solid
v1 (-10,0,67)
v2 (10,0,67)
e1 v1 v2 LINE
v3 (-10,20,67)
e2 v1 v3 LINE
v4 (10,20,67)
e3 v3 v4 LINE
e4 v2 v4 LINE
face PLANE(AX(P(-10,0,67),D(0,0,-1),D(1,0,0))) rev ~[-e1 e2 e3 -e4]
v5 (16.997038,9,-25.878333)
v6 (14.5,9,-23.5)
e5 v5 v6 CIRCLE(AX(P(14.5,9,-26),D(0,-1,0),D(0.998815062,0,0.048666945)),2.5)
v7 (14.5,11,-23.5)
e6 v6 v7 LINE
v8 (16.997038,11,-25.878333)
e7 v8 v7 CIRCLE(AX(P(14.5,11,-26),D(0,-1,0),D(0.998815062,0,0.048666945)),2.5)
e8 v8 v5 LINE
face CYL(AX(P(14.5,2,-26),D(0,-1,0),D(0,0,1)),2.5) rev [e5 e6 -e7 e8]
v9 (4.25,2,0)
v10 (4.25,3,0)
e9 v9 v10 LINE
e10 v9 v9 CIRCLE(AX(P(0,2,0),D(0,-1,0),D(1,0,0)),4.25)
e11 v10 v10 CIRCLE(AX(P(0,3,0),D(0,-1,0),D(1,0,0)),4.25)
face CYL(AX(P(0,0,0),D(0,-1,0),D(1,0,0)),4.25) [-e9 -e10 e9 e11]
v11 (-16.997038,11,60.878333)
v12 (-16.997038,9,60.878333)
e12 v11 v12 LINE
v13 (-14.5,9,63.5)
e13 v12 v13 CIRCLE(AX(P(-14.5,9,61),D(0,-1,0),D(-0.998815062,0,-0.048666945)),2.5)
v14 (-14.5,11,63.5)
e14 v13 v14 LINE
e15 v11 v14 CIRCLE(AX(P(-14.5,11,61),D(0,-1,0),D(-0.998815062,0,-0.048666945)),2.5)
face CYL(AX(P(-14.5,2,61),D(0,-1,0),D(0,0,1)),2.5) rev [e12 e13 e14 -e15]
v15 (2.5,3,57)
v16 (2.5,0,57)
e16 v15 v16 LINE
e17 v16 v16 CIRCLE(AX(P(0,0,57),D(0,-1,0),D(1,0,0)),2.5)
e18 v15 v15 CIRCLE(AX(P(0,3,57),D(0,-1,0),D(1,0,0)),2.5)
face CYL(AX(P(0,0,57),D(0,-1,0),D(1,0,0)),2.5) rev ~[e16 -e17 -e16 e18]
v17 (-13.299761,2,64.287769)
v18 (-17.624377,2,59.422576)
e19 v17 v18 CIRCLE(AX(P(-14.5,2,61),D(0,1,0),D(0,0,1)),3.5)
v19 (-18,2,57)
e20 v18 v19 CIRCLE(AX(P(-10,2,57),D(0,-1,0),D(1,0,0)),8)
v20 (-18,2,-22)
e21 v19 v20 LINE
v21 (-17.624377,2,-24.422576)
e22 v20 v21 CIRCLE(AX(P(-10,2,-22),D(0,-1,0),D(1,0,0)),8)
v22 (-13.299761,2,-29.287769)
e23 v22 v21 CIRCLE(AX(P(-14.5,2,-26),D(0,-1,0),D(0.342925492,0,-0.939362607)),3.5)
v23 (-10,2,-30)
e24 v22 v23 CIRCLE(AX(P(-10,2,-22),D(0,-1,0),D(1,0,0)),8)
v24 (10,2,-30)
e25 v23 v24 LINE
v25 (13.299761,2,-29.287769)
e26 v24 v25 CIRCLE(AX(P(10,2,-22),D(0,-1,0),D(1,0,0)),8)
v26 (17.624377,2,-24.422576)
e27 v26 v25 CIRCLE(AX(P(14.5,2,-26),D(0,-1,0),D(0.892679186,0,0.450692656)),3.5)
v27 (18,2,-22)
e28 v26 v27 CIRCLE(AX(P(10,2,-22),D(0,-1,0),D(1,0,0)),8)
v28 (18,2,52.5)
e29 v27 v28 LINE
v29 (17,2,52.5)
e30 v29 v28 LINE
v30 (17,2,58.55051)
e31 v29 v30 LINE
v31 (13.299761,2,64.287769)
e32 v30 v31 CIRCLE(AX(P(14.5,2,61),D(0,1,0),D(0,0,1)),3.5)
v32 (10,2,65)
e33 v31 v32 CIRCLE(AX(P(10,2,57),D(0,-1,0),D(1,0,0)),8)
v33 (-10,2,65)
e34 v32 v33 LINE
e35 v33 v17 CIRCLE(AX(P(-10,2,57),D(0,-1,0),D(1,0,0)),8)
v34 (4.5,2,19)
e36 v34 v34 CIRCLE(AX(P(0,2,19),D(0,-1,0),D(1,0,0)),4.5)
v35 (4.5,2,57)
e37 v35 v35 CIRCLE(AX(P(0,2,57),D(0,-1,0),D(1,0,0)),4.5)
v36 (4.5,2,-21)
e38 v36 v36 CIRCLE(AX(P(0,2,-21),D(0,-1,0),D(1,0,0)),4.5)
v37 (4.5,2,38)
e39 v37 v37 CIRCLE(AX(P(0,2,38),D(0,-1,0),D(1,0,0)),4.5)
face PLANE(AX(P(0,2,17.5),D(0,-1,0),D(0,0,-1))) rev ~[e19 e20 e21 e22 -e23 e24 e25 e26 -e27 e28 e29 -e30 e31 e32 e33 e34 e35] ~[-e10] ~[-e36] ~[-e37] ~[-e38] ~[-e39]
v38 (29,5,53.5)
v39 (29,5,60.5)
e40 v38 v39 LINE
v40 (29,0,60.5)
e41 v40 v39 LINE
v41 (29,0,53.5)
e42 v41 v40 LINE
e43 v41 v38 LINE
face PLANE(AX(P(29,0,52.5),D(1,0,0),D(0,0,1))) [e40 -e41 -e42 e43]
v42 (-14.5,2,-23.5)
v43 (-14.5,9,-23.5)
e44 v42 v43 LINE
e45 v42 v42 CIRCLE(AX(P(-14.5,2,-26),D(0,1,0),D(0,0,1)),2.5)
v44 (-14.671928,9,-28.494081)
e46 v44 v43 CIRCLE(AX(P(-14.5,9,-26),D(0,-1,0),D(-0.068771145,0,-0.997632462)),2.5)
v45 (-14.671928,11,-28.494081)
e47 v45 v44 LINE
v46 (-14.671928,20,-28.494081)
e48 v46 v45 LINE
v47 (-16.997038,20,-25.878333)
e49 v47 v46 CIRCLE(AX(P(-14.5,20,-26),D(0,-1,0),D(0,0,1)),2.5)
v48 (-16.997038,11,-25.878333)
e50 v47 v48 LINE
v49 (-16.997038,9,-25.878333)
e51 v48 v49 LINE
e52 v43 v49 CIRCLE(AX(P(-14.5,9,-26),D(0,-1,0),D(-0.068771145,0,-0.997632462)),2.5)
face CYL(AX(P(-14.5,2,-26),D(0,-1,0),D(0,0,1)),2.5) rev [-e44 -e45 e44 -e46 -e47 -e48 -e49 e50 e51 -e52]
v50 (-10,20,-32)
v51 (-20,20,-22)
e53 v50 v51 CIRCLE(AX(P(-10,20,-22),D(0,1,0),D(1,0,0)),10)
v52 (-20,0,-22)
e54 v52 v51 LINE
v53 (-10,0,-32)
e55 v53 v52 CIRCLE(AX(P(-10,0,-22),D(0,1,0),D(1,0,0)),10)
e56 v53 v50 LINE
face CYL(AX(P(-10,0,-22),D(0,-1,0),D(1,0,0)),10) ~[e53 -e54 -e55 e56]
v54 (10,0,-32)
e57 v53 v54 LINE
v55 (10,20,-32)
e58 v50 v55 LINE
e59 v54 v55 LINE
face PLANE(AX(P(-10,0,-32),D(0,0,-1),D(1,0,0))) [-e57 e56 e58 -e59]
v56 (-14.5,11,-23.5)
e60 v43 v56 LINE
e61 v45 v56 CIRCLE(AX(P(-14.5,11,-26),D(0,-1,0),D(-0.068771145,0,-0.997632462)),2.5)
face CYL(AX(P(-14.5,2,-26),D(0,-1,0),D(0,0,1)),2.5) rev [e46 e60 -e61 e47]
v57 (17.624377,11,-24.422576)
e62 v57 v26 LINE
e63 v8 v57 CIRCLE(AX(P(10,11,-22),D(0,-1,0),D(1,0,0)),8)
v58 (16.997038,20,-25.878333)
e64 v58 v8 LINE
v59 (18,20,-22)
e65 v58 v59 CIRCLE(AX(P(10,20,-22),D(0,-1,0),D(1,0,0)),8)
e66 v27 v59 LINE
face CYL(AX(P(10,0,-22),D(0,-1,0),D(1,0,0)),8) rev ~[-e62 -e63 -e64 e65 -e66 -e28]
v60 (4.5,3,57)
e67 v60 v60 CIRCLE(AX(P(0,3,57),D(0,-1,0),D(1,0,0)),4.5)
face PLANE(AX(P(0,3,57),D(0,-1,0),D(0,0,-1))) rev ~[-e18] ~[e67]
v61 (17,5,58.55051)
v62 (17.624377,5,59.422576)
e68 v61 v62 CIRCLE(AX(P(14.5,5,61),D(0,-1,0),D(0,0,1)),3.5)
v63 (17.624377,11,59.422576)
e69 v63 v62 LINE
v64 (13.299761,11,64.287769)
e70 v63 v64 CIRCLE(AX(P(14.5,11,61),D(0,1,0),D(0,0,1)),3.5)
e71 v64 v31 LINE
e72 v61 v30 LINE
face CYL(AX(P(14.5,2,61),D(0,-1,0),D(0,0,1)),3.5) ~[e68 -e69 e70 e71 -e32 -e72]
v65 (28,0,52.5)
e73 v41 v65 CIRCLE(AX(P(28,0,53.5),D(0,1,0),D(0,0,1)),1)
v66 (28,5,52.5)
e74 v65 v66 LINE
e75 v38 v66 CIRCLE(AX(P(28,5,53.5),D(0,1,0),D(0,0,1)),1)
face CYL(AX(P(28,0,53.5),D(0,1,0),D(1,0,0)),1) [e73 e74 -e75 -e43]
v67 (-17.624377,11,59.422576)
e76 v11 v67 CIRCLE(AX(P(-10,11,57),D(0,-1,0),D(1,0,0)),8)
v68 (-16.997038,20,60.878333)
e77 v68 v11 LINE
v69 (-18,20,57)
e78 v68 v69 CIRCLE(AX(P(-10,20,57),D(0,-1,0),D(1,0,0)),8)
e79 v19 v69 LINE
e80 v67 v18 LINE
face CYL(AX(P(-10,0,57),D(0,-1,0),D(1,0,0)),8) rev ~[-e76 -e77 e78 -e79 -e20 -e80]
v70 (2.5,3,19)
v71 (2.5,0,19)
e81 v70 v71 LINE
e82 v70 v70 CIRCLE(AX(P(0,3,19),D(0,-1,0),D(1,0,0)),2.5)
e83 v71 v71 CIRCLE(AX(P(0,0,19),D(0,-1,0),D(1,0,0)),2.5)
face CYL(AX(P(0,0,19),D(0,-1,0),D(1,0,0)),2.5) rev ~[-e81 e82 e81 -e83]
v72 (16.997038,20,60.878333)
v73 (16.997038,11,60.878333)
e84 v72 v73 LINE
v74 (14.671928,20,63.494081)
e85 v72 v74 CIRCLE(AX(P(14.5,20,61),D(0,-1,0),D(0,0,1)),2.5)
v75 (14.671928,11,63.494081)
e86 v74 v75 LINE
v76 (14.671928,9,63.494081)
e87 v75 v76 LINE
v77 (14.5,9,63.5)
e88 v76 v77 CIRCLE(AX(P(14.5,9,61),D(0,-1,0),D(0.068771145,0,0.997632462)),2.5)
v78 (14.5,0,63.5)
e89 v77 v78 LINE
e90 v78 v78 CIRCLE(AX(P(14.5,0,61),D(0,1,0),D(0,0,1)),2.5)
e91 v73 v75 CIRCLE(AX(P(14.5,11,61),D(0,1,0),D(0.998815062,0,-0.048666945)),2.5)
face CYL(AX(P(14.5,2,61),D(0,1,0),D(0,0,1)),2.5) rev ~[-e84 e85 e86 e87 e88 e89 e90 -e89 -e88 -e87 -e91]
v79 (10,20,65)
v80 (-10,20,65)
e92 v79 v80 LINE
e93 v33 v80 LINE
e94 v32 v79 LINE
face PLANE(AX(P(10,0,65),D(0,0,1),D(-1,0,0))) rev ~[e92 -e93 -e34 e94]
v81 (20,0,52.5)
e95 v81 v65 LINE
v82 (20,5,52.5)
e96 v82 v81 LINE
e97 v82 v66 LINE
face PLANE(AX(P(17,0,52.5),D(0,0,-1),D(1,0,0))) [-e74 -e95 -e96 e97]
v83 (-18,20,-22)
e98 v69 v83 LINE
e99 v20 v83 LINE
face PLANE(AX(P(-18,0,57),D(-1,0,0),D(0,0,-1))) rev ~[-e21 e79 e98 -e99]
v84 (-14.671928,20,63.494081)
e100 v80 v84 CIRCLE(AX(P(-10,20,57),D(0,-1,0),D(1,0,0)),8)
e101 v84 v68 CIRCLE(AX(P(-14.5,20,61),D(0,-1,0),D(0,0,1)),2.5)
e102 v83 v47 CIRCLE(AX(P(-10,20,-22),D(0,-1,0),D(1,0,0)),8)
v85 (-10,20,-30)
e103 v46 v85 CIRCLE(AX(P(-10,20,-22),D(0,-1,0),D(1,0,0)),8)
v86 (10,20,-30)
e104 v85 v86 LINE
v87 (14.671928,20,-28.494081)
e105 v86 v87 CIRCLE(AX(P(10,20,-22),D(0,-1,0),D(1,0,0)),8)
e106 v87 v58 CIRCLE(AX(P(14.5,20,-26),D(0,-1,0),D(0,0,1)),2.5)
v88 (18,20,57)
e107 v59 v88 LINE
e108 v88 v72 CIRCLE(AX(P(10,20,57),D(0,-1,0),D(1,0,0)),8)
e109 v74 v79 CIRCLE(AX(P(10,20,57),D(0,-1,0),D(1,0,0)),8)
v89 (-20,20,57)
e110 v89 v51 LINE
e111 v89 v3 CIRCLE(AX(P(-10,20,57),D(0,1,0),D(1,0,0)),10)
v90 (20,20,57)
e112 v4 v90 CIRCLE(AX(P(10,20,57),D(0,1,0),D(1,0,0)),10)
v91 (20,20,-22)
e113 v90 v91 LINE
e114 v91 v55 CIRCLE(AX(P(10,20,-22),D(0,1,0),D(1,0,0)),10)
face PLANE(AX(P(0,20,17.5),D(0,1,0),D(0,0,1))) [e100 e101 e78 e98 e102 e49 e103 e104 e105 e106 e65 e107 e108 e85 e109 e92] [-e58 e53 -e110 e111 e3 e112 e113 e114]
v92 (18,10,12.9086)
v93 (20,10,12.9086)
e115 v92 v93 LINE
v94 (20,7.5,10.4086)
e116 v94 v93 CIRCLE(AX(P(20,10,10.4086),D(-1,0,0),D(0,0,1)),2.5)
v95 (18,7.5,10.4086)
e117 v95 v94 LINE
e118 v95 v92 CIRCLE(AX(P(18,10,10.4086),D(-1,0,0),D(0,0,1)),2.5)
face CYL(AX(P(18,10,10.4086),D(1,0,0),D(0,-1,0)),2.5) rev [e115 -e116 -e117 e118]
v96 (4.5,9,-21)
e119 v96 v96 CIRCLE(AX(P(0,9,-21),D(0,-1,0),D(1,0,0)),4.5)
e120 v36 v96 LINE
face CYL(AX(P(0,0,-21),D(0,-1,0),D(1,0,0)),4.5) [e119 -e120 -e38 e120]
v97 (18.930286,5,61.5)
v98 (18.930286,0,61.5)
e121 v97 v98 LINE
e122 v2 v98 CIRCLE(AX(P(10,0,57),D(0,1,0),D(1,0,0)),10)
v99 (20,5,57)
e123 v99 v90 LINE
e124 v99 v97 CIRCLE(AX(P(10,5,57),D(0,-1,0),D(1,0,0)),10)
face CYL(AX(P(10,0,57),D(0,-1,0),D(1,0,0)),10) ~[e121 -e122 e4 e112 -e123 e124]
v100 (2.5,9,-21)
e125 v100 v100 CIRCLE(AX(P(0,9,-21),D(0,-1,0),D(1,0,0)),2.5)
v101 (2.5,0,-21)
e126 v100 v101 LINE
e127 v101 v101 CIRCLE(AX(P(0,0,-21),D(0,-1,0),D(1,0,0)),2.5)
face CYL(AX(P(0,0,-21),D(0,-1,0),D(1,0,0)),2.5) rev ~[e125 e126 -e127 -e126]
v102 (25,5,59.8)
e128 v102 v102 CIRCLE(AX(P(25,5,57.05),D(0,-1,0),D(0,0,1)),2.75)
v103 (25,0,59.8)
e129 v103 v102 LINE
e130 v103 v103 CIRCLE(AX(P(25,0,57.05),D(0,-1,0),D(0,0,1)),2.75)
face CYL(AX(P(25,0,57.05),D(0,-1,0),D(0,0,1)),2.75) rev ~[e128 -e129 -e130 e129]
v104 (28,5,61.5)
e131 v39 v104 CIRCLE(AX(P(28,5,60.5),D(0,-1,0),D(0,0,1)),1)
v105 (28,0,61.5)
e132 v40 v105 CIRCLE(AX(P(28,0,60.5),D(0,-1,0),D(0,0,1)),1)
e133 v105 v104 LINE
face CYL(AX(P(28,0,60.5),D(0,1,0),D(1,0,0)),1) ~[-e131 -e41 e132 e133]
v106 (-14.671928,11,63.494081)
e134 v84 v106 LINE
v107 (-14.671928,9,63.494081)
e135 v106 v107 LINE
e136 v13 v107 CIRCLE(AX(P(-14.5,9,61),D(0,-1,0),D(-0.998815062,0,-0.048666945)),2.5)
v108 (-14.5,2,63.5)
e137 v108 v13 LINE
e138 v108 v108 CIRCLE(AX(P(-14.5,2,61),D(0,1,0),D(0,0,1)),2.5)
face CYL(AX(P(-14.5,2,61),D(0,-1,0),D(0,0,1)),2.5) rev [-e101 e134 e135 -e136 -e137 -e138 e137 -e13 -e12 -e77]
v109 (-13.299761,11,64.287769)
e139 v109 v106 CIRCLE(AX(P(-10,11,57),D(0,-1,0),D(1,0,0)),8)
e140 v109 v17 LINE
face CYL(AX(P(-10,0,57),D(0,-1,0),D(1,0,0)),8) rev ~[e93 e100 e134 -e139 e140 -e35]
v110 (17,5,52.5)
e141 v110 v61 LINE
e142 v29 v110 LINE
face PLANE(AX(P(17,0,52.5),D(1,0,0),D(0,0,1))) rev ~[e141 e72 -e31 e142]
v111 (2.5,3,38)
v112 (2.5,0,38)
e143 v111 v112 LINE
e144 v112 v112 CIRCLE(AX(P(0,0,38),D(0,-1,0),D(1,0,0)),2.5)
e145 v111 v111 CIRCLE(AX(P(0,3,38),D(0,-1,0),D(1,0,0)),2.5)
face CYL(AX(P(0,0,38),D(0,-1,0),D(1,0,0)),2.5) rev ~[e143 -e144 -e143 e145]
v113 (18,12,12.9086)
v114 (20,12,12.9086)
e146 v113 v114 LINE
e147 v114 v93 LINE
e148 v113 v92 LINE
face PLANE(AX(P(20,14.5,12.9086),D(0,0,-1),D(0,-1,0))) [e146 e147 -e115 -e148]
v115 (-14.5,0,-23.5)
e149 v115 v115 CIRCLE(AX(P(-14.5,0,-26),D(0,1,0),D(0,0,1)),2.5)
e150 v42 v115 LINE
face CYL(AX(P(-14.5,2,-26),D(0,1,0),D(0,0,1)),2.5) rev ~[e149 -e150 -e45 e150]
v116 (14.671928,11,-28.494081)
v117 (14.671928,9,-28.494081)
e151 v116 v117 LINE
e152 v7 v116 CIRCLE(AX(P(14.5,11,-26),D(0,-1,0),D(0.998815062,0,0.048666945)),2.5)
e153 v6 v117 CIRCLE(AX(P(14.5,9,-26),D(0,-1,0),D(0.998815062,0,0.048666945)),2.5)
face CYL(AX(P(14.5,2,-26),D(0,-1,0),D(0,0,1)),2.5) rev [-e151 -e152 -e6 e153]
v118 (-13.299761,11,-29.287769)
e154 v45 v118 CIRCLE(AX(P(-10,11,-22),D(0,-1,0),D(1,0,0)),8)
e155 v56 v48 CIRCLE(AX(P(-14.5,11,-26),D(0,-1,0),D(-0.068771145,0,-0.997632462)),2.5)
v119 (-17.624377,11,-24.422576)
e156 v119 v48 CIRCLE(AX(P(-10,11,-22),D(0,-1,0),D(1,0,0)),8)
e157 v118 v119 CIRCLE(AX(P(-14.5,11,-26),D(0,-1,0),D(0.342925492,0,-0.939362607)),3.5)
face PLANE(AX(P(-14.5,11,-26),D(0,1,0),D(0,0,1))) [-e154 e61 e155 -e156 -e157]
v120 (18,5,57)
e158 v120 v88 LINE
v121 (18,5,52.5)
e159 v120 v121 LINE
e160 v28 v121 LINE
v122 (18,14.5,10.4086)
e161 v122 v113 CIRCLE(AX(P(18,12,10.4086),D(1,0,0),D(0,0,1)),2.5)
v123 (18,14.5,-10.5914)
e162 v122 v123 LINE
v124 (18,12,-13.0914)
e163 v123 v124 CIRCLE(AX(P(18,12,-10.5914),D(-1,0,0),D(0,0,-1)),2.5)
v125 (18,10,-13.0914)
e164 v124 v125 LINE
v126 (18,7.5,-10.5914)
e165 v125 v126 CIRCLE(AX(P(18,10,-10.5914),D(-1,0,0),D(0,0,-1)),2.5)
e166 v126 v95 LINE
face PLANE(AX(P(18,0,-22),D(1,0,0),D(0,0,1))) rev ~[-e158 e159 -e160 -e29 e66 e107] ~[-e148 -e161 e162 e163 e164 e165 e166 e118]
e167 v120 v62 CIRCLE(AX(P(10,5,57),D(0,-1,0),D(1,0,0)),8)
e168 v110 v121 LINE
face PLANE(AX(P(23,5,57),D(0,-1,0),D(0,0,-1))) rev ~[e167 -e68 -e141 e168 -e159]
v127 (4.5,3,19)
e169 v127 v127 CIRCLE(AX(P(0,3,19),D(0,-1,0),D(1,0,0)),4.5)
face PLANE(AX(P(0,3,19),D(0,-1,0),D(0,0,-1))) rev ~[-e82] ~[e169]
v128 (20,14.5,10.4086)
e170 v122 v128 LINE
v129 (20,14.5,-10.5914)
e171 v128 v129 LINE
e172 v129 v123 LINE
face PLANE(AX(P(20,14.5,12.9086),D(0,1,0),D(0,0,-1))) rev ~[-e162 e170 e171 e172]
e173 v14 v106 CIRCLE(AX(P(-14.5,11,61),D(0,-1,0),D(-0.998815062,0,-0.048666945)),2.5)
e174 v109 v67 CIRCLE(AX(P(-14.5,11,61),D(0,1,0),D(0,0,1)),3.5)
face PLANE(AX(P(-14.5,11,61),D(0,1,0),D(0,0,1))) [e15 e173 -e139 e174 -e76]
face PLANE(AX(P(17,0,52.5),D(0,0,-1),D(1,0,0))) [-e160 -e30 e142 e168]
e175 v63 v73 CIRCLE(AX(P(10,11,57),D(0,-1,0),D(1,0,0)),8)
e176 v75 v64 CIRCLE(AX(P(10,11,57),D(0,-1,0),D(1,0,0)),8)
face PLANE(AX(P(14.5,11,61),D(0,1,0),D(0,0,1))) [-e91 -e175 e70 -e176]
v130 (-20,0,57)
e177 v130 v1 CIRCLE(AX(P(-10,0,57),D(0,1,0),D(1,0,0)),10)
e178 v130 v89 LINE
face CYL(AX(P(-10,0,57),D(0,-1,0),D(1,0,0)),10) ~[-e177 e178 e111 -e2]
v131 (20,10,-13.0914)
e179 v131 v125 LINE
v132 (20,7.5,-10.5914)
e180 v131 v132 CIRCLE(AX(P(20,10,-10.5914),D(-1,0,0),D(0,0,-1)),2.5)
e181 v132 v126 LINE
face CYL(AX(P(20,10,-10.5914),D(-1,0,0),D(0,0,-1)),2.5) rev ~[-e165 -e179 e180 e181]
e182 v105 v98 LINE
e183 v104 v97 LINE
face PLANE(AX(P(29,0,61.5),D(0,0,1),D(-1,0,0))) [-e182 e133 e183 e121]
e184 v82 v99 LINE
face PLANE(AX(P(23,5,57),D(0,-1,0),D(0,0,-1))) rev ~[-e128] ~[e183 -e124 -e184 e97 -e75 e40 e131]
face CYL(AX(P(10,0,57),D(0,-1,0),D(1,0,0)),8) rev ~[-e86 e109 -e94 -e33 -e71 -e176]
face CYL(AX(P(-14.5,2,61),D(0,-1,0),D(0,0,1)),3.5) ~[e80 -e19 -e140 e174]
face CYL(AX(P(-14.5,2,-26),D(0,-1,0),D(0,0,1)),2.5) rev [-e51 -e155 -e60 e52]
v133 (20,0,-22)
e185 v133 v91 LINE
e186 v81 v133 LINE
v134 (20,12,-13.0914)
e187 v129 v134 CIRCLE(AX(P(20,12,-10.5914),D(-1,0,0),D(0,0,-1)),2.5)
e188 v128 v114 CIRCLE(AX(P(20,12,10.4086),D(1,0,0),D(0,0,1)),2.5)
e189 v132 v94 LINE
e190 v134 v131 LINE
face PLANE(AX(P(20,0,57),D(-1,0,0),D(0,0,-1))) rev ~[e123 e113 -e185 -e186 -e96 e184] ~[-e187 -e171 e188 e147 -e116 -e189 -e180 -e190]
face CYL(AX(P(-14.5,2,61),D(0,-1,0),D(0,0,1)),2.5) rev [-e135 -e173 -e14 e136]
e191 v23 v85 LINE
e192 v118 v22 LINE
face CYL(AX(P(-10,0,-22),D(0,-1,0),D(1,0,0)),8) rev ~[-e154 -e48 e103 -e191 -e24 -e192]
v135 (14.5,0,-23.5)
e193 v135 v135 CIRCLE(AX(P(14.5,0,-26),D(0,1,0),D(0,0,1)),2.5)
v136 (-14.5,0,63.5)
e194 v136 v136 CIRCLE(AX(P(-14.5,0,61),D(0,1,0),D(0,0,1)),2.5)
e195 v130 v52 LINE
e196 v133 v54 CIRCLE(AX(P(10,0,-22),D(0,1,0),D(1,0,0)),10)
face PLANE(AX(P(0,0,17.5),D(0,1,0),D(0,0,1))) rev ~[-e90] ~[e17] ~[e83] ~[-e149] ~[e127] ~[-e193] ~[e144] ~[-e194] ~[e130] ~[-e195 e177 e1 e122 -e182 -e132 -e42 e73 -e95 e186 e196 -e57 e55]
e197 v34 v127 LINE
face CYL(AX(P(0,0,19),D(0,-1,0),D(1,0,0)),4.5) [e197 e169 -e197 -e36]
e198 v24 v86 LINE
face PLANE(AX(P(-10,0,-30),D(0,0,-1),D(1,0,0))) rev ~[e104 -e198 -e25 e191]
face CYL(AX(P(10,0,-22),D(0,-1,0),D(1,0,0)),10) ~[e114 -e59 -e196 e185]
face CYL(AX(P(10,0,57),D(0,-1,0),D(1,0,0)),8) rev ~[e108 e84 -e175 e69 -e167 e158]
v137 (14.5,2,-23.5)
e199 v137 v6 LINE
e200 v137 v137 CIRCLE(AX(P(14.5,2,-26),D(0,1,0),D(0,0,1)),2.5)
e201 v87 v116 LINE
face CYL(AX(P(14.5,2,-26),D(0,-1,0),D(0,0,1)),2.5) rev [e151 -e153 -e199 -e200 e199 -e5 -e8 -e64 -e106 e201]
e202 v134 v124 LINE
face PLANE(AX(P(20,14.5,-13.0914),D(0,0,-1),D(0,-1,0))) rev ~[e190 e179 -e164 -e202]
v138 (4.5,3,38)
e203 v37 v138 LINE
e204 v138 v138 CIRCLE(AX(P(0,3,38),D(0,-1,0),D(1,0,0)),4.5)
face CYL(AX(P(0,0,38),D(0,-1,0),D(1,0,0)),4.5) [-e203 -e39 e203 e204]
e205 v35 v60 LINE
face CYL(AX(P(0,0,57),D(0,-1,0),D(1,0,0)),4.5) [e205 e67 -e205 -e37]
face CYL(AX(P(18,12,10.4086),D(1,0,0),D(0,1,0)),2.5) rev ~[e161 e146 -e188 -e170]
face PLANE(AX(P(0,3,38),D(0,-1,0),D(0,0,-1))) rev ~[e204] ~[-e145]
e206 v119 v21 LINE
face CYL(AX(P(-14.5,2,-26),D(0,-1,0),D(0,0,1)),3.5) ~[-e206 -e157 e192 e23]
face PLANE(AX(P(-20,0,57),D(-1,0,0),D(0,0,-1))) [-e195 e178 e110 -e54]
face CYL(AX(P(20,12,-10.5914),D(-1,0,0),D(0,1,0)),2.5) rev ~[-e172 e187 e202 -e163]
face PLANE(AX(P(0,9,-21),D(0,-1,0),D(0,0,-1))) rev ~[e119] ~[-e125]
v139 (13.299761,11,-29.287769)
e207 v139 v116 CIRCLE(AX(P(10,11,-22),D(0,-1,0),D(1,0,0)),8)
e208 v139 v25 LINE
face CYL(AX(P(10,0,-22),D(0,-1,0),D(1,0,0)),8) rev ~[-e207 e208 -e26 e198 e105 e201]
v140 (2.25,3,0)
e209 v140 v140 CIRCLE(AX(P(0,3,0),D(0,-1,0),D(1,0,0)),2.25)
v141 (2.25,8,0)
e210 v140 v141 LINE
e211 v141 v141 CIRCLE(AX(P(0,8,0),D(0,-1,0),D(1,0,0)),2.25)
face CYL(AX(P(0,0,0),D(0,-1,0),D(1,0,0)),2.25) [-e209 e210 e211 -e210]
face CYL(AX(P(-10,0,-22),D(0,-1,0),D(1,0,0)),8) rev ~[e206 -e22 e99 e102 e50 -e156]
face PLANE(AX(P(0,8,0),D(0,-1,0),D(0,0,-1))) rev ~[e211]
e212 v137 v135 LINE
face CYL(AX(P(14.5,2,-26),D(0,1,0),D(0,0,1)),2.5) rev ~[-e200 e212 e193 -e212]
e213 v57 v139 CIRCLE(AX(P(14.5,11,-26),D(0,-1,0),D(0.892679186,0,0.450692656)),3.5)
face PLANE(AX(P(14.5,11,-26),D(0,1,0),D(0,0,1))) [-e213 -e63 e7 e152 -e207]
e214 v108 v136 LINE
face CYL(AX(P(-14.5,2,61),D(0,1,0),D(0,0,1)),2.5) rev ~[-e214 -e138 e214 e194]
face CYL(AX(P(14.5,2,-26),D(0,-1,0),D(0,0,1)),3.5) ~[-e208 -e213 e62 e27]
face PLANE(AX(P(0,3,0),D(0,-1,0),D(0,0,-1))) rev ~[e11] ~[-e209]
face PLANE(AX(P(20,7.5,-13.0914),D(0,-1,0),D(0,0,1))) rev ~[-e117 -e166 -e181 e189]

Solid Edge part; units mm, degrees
sketch "Sketch1" plane through (0, 0, 0) normal (0, -1, 0) x (1, 0, 0)
  line L0 (20, 57) -> (20, -22)
  arc A0 (20, -22) -> (10, -32) centre (10, -22) cw
  line L1 (-10, -32) -> (10, -32)
  arc A1 (-10, -32) -> (-20, -22) centre (-10, -22) cw
  line L2 (-20, 57) -> (-20, -22)
  arc A2 (-20, 57) -> (-10, 67) centre (-10, 57) cw
  line L3 (-10, 67) -> (10, 67)
  arc A3 (10, 67) -> (20, 57) centre (10, 57) cw
  arc A4 (18, 57) -> (10, 65) centre (10, 57) ccw
  line L4 (10, 65) -> (-10, 65)
  arc A5 (-10, 65) -> (-18, 57) centre (-10, 57) ccw
  line L5 (-18, 57) -> (-18, -22)
  arc A6 (-18, -22) -> (-10, -30) centre (-10, -22) ccw
  line L6 (-10, -30) -> (10, -30)
  arc A7 (10, -30) -> (18, -22) centre (10, -22) ccw
  line L7 (18, -22) -> (18, 57)
  dimension "D1" = 20
  dimension "D2" = 20
  dimension "D3" = 99
  dimension "D4" = 67
  dimension "D5" = 40
  dimension "D6" = 2
  dimension "D7" = 2
  dimension "D8" = 2
  dimension "D9" = 2
  dimension "D10" = 19
  dimension "D11" = 19
  dimension "D12" = 19
  dimension "D13" = 2
  dimension "D14" = 21
  dimension "D15" = 4.5
  dimension "D16" = 5
  dimension "D17" = 5
  dimension "D18" = 5
  dimension "D19" = 5
  dimension "D20" = 20
  dimension "D21" = 2
extrude "Protrusion1" add sketch "Sketch1" against normal blind 20
sketch "Sketch2" plane through (0, 0, 0) normal (0, -1, 0) x (1, 0, 0)
  arc A0 (-10, 65) -> (-18, 57) centre (-10, 57) ccw
  line L0 (-18, 57) -> (-18, -22)
  arc A1 (-18, -22) -> (-10, -30) centre (-10, -22) ccw
  line L1 (-10, -30) -> (10, -30)
  arc A2 (10, -30) -> (18, -22) centre (10, -22) ccw
  line L2 (18, -22) -> (18, 57)
  arc A3 (18, 57) -> (10, 65) centre (10, 57) ccw
  line L3 (10, 65) -> (-10, 65)
extrude "ExtrudedProtrusion_2" add sketch "Sketch2" against normal blind 2
sketch "Sketch3" plane through (0, 0, 0) normal (0, -1, 0) x (1, 0, 0)
  circle A0 centre (0, 38) radius 2.5
  circle A1 centre (0, 38) radius 4.5
  circle A2 centre (0, 57) radius 2.5
  circle A3 centre (0, 57) radius 4.5
  circle A4 centre (0, 19) radius 2.5
  circle A5 centre (0, 19) radius 4.5
  circle A6 centre (0, 0) radius 2.25
  circle A7 centre (0, 0) radius 4.25
  dimension "D1" = 20
  dimension "D2" = 20
  dimension "D3" = 99
  dimension "D4" = 67
  dimension "D5" = 40
  dimension "D6" = 2
  dimension "D7" = 2
  dimension "D8" = 2
  dimension "D9" = 2
  dimension "D10" = 19
  dimension "D11" = 19
  dimension "D12" = 19
  dimension "D13" = 2
  dimension "D14" = 21
  dimension "D15" = 4.5
  dimension "D16" = 5
  dimension "D17" = 5
  dimension "D18" = 5
  dimension "D19" = 5
  dimension "D20" = 20
  dimension "D21" = 2
extrude "ExtrudedProtrusion_4" add sketch "Sketch3" against normal blind 3
sketch "Sketch4" plane through (0, 0, 0) normal (0, -1, 0) x (1, 0, 0)
  circle A0 centre (0, 0) radius 2.25
extrude "ExtrudedProtrusion_5" add sketch "Sketch4" against normal blind 8
sketch "Sketch5" plane through (0, 0, 0) normal (0, -1, 0) x (1, 0, 0)
  circle A0 centre (0, -21) radius 2.5
  circle A1 centre (0, -21) radius 4.5
  dimension "D1" = 20
  dimension "D2" = 20
  dimension "D3" = 99
  dimension "D4" = 67
  dimension "D5" = 40
  dimension "D6" = 2
  dimension "D7" = 2
  dimension "D8" = 2
  dimension "D9" = 2
  dimension "D10" = 19
  dimension "D11" = 19
  dimension "D12" = 19
  dimension "D13" = 2
  dimension "D14" = 21
  dimension "D15" = 4.5
  dimension "D16" = 5
  dimension "D17" = 5
  dimension "D18" = 5
  dimension "D19" = 5
  dimension "D20" = 20
  dimension "D21" = 2
extrude "ExtrudedProtrusion_6" add sketch "Sketch5" against normal blind 9
sketch "Sketch6" plane through (0, 0, 0) normal (0, -1, 0) x (1, 0, 0)
  circle A0 centre (0, 19) radius 2.5
  circle A1 centre (0, 38) radius 2.5
  circle A2 centre (0, 57) radius 2.5
  circle A3 centre (0, -21) radius 2.5
  dimension "D1" = 20
  dimension "D2" = 20
  dimension "D3" = 99
  dimension "D4" = 67
  dimension "D5" = 40
  dimension "D6" = 2
  dimension "D7" = 2
  dimension "D8" = 2
  dimension "D9" = 2
  dimension "D10" = 19
  dimension "D11" = 19
  dimension "D12" = 19
  dimension "D13" = 2
  dimension "D14" = 21
  dimension "D15" = 4.5
  dimension "D16" = 5
  dimension "D17" = 5
  dimension "D18" = 5
  dimension "D19" = 5
  dimension "D20" = 20
  dimension "D21" = 2
extrude "ExtrudedCutout_1" cut sketch "Sketch6" along normal mid plane 10
sketch "Sketch7" plane through (0.4, 2, 16.9) normal (0, 1, 0) x (0, 0, 1)
  circle A0 centre (-42.9, 14.1) radius 2.5
  circle A1 centre (-42.9, 14.1) radius 3.5
  circle A2 centre (44.1, 14.1) radius 2.5
  circle A3 centre (44.1, 14.1) radius 3.5
  circle A4 centre (44.1, -14.9) radius 2.5
  circle A5 centre (44.1, -14.9) radius 3.5
  circle A6 centre (-42.9, -14.9) radius 2.5
  circle A7 centre (-42.9, -14.9) radius 3.5
  dimension "D1" = 1
  dimension "D2" = 1
  dimension "D3" = 1
  dimension "D4" = 1
  dimension "D5" = 5.5
  dimension "D6" = 6
  dimension "D7" = 6
  dimension "D8" = 5.5
extrude "ExtrudedProtrusion_7" add sketch "Sketch7" along normal blind 9
sketch "Sketch8" plane through (0.4, 2, 16.9) normal (0, 1, 0) x (0, 0, 1)
  circle A0 centre (44.1, 14.1) radius 2.5
  circle A1 centre (44.1, -14.9) radius 2.5
  circle A2 centre (-42.9, -14.9) radius 2.5
  circle A3 centre (-42.9, 14.1) radius 2.5
  dimension "D1" = 1
  dimension "D2" = 1
  dimension "D3" = 1
  dimension "D4" = 1
  dimension "D5" = 5.5
  dimension "D6" = 6
  dimension "D7" = 6
  dimension "D8" = 5.5
extrude "ExtrudedProtrusion_8" add sketch "Sketch8" along normal blind 7
sketch "Sketch9" plane through (0.4, 2, 16.9) normal (0, 1, 0) x (0, 0, 1)
  circle A0 centre (44.1, 14.1) radius 2.5
  circle A1 centre (44.1, -14.9) radius 2.5
  circle A2 centre (-42.9, -14.9) radius 2.5
  circle A3 centre (-42.9, 14.1) radius 2.5
  dimension "D1" = 1
  dimension "D2" = 1
  dimension "D3" = 1
  dimension "D4" = 1
  dimension "D5" = 5.5
  dimension "D6" = 6
  dimension "D7" = 6
  dimension "D8" = 5.5
extrude "ExtrudedCutout_2" cut sketch "Sketch9" along normal mid plane 50
sketch "Sketch10" plane through (0.4, 0, 16.9) normal (0, -1, 0) x (0, 0, 1)
  circle A0 centre (40.15, -24.6) radius 2.75
  line L0 (44.6, -28.6) -> (44.6, -16.6)
  line L1 (35.6, -16.6) -> (44.6, -16.6)
  line L2 (35.6, -16.6) -> (35.6, -28.6)
  line L3 (35.6, -28.6) -> (44.6, -28.6)
  dimension "D1" = 4.45
  dimension "D2" = 12
  dimension "D3" = 8
  dimension "D4" = 5.5
extrude "ExtrudedProtrusion_9" add sketch "Sketch10" against normal blind 5
fillet "Round_1" radius 1 2 edges at (29, 2.5, 52.5) (29, 2.5, 61.5)
sketch "Sketch11" plane through (20, 7, 17.5) normal (1, 0, 0) x (0, 0, -1)
  line L0 (4.5914, 7.5) -> (30.5914, 7.5)
  line L1 (30.5914, 7.5) -> (30.5914, 0.5)
  line L2 (30.5914, 0.5) -> (4.5914, 0.5)
  line L3 (4.5914, 7.5) -> (4.5914, 0.5)
extrude "ExtrudedCutout_4" cut sketch "Sketch11" along normal mid plane 4
fillet "Round_2" radius 2.5 4 edges at (19, 14.5, -13.0914) (19, 14.5, 12.9086) (19, 7.5, 12.9086) (19, 7.5, -13.0914)
